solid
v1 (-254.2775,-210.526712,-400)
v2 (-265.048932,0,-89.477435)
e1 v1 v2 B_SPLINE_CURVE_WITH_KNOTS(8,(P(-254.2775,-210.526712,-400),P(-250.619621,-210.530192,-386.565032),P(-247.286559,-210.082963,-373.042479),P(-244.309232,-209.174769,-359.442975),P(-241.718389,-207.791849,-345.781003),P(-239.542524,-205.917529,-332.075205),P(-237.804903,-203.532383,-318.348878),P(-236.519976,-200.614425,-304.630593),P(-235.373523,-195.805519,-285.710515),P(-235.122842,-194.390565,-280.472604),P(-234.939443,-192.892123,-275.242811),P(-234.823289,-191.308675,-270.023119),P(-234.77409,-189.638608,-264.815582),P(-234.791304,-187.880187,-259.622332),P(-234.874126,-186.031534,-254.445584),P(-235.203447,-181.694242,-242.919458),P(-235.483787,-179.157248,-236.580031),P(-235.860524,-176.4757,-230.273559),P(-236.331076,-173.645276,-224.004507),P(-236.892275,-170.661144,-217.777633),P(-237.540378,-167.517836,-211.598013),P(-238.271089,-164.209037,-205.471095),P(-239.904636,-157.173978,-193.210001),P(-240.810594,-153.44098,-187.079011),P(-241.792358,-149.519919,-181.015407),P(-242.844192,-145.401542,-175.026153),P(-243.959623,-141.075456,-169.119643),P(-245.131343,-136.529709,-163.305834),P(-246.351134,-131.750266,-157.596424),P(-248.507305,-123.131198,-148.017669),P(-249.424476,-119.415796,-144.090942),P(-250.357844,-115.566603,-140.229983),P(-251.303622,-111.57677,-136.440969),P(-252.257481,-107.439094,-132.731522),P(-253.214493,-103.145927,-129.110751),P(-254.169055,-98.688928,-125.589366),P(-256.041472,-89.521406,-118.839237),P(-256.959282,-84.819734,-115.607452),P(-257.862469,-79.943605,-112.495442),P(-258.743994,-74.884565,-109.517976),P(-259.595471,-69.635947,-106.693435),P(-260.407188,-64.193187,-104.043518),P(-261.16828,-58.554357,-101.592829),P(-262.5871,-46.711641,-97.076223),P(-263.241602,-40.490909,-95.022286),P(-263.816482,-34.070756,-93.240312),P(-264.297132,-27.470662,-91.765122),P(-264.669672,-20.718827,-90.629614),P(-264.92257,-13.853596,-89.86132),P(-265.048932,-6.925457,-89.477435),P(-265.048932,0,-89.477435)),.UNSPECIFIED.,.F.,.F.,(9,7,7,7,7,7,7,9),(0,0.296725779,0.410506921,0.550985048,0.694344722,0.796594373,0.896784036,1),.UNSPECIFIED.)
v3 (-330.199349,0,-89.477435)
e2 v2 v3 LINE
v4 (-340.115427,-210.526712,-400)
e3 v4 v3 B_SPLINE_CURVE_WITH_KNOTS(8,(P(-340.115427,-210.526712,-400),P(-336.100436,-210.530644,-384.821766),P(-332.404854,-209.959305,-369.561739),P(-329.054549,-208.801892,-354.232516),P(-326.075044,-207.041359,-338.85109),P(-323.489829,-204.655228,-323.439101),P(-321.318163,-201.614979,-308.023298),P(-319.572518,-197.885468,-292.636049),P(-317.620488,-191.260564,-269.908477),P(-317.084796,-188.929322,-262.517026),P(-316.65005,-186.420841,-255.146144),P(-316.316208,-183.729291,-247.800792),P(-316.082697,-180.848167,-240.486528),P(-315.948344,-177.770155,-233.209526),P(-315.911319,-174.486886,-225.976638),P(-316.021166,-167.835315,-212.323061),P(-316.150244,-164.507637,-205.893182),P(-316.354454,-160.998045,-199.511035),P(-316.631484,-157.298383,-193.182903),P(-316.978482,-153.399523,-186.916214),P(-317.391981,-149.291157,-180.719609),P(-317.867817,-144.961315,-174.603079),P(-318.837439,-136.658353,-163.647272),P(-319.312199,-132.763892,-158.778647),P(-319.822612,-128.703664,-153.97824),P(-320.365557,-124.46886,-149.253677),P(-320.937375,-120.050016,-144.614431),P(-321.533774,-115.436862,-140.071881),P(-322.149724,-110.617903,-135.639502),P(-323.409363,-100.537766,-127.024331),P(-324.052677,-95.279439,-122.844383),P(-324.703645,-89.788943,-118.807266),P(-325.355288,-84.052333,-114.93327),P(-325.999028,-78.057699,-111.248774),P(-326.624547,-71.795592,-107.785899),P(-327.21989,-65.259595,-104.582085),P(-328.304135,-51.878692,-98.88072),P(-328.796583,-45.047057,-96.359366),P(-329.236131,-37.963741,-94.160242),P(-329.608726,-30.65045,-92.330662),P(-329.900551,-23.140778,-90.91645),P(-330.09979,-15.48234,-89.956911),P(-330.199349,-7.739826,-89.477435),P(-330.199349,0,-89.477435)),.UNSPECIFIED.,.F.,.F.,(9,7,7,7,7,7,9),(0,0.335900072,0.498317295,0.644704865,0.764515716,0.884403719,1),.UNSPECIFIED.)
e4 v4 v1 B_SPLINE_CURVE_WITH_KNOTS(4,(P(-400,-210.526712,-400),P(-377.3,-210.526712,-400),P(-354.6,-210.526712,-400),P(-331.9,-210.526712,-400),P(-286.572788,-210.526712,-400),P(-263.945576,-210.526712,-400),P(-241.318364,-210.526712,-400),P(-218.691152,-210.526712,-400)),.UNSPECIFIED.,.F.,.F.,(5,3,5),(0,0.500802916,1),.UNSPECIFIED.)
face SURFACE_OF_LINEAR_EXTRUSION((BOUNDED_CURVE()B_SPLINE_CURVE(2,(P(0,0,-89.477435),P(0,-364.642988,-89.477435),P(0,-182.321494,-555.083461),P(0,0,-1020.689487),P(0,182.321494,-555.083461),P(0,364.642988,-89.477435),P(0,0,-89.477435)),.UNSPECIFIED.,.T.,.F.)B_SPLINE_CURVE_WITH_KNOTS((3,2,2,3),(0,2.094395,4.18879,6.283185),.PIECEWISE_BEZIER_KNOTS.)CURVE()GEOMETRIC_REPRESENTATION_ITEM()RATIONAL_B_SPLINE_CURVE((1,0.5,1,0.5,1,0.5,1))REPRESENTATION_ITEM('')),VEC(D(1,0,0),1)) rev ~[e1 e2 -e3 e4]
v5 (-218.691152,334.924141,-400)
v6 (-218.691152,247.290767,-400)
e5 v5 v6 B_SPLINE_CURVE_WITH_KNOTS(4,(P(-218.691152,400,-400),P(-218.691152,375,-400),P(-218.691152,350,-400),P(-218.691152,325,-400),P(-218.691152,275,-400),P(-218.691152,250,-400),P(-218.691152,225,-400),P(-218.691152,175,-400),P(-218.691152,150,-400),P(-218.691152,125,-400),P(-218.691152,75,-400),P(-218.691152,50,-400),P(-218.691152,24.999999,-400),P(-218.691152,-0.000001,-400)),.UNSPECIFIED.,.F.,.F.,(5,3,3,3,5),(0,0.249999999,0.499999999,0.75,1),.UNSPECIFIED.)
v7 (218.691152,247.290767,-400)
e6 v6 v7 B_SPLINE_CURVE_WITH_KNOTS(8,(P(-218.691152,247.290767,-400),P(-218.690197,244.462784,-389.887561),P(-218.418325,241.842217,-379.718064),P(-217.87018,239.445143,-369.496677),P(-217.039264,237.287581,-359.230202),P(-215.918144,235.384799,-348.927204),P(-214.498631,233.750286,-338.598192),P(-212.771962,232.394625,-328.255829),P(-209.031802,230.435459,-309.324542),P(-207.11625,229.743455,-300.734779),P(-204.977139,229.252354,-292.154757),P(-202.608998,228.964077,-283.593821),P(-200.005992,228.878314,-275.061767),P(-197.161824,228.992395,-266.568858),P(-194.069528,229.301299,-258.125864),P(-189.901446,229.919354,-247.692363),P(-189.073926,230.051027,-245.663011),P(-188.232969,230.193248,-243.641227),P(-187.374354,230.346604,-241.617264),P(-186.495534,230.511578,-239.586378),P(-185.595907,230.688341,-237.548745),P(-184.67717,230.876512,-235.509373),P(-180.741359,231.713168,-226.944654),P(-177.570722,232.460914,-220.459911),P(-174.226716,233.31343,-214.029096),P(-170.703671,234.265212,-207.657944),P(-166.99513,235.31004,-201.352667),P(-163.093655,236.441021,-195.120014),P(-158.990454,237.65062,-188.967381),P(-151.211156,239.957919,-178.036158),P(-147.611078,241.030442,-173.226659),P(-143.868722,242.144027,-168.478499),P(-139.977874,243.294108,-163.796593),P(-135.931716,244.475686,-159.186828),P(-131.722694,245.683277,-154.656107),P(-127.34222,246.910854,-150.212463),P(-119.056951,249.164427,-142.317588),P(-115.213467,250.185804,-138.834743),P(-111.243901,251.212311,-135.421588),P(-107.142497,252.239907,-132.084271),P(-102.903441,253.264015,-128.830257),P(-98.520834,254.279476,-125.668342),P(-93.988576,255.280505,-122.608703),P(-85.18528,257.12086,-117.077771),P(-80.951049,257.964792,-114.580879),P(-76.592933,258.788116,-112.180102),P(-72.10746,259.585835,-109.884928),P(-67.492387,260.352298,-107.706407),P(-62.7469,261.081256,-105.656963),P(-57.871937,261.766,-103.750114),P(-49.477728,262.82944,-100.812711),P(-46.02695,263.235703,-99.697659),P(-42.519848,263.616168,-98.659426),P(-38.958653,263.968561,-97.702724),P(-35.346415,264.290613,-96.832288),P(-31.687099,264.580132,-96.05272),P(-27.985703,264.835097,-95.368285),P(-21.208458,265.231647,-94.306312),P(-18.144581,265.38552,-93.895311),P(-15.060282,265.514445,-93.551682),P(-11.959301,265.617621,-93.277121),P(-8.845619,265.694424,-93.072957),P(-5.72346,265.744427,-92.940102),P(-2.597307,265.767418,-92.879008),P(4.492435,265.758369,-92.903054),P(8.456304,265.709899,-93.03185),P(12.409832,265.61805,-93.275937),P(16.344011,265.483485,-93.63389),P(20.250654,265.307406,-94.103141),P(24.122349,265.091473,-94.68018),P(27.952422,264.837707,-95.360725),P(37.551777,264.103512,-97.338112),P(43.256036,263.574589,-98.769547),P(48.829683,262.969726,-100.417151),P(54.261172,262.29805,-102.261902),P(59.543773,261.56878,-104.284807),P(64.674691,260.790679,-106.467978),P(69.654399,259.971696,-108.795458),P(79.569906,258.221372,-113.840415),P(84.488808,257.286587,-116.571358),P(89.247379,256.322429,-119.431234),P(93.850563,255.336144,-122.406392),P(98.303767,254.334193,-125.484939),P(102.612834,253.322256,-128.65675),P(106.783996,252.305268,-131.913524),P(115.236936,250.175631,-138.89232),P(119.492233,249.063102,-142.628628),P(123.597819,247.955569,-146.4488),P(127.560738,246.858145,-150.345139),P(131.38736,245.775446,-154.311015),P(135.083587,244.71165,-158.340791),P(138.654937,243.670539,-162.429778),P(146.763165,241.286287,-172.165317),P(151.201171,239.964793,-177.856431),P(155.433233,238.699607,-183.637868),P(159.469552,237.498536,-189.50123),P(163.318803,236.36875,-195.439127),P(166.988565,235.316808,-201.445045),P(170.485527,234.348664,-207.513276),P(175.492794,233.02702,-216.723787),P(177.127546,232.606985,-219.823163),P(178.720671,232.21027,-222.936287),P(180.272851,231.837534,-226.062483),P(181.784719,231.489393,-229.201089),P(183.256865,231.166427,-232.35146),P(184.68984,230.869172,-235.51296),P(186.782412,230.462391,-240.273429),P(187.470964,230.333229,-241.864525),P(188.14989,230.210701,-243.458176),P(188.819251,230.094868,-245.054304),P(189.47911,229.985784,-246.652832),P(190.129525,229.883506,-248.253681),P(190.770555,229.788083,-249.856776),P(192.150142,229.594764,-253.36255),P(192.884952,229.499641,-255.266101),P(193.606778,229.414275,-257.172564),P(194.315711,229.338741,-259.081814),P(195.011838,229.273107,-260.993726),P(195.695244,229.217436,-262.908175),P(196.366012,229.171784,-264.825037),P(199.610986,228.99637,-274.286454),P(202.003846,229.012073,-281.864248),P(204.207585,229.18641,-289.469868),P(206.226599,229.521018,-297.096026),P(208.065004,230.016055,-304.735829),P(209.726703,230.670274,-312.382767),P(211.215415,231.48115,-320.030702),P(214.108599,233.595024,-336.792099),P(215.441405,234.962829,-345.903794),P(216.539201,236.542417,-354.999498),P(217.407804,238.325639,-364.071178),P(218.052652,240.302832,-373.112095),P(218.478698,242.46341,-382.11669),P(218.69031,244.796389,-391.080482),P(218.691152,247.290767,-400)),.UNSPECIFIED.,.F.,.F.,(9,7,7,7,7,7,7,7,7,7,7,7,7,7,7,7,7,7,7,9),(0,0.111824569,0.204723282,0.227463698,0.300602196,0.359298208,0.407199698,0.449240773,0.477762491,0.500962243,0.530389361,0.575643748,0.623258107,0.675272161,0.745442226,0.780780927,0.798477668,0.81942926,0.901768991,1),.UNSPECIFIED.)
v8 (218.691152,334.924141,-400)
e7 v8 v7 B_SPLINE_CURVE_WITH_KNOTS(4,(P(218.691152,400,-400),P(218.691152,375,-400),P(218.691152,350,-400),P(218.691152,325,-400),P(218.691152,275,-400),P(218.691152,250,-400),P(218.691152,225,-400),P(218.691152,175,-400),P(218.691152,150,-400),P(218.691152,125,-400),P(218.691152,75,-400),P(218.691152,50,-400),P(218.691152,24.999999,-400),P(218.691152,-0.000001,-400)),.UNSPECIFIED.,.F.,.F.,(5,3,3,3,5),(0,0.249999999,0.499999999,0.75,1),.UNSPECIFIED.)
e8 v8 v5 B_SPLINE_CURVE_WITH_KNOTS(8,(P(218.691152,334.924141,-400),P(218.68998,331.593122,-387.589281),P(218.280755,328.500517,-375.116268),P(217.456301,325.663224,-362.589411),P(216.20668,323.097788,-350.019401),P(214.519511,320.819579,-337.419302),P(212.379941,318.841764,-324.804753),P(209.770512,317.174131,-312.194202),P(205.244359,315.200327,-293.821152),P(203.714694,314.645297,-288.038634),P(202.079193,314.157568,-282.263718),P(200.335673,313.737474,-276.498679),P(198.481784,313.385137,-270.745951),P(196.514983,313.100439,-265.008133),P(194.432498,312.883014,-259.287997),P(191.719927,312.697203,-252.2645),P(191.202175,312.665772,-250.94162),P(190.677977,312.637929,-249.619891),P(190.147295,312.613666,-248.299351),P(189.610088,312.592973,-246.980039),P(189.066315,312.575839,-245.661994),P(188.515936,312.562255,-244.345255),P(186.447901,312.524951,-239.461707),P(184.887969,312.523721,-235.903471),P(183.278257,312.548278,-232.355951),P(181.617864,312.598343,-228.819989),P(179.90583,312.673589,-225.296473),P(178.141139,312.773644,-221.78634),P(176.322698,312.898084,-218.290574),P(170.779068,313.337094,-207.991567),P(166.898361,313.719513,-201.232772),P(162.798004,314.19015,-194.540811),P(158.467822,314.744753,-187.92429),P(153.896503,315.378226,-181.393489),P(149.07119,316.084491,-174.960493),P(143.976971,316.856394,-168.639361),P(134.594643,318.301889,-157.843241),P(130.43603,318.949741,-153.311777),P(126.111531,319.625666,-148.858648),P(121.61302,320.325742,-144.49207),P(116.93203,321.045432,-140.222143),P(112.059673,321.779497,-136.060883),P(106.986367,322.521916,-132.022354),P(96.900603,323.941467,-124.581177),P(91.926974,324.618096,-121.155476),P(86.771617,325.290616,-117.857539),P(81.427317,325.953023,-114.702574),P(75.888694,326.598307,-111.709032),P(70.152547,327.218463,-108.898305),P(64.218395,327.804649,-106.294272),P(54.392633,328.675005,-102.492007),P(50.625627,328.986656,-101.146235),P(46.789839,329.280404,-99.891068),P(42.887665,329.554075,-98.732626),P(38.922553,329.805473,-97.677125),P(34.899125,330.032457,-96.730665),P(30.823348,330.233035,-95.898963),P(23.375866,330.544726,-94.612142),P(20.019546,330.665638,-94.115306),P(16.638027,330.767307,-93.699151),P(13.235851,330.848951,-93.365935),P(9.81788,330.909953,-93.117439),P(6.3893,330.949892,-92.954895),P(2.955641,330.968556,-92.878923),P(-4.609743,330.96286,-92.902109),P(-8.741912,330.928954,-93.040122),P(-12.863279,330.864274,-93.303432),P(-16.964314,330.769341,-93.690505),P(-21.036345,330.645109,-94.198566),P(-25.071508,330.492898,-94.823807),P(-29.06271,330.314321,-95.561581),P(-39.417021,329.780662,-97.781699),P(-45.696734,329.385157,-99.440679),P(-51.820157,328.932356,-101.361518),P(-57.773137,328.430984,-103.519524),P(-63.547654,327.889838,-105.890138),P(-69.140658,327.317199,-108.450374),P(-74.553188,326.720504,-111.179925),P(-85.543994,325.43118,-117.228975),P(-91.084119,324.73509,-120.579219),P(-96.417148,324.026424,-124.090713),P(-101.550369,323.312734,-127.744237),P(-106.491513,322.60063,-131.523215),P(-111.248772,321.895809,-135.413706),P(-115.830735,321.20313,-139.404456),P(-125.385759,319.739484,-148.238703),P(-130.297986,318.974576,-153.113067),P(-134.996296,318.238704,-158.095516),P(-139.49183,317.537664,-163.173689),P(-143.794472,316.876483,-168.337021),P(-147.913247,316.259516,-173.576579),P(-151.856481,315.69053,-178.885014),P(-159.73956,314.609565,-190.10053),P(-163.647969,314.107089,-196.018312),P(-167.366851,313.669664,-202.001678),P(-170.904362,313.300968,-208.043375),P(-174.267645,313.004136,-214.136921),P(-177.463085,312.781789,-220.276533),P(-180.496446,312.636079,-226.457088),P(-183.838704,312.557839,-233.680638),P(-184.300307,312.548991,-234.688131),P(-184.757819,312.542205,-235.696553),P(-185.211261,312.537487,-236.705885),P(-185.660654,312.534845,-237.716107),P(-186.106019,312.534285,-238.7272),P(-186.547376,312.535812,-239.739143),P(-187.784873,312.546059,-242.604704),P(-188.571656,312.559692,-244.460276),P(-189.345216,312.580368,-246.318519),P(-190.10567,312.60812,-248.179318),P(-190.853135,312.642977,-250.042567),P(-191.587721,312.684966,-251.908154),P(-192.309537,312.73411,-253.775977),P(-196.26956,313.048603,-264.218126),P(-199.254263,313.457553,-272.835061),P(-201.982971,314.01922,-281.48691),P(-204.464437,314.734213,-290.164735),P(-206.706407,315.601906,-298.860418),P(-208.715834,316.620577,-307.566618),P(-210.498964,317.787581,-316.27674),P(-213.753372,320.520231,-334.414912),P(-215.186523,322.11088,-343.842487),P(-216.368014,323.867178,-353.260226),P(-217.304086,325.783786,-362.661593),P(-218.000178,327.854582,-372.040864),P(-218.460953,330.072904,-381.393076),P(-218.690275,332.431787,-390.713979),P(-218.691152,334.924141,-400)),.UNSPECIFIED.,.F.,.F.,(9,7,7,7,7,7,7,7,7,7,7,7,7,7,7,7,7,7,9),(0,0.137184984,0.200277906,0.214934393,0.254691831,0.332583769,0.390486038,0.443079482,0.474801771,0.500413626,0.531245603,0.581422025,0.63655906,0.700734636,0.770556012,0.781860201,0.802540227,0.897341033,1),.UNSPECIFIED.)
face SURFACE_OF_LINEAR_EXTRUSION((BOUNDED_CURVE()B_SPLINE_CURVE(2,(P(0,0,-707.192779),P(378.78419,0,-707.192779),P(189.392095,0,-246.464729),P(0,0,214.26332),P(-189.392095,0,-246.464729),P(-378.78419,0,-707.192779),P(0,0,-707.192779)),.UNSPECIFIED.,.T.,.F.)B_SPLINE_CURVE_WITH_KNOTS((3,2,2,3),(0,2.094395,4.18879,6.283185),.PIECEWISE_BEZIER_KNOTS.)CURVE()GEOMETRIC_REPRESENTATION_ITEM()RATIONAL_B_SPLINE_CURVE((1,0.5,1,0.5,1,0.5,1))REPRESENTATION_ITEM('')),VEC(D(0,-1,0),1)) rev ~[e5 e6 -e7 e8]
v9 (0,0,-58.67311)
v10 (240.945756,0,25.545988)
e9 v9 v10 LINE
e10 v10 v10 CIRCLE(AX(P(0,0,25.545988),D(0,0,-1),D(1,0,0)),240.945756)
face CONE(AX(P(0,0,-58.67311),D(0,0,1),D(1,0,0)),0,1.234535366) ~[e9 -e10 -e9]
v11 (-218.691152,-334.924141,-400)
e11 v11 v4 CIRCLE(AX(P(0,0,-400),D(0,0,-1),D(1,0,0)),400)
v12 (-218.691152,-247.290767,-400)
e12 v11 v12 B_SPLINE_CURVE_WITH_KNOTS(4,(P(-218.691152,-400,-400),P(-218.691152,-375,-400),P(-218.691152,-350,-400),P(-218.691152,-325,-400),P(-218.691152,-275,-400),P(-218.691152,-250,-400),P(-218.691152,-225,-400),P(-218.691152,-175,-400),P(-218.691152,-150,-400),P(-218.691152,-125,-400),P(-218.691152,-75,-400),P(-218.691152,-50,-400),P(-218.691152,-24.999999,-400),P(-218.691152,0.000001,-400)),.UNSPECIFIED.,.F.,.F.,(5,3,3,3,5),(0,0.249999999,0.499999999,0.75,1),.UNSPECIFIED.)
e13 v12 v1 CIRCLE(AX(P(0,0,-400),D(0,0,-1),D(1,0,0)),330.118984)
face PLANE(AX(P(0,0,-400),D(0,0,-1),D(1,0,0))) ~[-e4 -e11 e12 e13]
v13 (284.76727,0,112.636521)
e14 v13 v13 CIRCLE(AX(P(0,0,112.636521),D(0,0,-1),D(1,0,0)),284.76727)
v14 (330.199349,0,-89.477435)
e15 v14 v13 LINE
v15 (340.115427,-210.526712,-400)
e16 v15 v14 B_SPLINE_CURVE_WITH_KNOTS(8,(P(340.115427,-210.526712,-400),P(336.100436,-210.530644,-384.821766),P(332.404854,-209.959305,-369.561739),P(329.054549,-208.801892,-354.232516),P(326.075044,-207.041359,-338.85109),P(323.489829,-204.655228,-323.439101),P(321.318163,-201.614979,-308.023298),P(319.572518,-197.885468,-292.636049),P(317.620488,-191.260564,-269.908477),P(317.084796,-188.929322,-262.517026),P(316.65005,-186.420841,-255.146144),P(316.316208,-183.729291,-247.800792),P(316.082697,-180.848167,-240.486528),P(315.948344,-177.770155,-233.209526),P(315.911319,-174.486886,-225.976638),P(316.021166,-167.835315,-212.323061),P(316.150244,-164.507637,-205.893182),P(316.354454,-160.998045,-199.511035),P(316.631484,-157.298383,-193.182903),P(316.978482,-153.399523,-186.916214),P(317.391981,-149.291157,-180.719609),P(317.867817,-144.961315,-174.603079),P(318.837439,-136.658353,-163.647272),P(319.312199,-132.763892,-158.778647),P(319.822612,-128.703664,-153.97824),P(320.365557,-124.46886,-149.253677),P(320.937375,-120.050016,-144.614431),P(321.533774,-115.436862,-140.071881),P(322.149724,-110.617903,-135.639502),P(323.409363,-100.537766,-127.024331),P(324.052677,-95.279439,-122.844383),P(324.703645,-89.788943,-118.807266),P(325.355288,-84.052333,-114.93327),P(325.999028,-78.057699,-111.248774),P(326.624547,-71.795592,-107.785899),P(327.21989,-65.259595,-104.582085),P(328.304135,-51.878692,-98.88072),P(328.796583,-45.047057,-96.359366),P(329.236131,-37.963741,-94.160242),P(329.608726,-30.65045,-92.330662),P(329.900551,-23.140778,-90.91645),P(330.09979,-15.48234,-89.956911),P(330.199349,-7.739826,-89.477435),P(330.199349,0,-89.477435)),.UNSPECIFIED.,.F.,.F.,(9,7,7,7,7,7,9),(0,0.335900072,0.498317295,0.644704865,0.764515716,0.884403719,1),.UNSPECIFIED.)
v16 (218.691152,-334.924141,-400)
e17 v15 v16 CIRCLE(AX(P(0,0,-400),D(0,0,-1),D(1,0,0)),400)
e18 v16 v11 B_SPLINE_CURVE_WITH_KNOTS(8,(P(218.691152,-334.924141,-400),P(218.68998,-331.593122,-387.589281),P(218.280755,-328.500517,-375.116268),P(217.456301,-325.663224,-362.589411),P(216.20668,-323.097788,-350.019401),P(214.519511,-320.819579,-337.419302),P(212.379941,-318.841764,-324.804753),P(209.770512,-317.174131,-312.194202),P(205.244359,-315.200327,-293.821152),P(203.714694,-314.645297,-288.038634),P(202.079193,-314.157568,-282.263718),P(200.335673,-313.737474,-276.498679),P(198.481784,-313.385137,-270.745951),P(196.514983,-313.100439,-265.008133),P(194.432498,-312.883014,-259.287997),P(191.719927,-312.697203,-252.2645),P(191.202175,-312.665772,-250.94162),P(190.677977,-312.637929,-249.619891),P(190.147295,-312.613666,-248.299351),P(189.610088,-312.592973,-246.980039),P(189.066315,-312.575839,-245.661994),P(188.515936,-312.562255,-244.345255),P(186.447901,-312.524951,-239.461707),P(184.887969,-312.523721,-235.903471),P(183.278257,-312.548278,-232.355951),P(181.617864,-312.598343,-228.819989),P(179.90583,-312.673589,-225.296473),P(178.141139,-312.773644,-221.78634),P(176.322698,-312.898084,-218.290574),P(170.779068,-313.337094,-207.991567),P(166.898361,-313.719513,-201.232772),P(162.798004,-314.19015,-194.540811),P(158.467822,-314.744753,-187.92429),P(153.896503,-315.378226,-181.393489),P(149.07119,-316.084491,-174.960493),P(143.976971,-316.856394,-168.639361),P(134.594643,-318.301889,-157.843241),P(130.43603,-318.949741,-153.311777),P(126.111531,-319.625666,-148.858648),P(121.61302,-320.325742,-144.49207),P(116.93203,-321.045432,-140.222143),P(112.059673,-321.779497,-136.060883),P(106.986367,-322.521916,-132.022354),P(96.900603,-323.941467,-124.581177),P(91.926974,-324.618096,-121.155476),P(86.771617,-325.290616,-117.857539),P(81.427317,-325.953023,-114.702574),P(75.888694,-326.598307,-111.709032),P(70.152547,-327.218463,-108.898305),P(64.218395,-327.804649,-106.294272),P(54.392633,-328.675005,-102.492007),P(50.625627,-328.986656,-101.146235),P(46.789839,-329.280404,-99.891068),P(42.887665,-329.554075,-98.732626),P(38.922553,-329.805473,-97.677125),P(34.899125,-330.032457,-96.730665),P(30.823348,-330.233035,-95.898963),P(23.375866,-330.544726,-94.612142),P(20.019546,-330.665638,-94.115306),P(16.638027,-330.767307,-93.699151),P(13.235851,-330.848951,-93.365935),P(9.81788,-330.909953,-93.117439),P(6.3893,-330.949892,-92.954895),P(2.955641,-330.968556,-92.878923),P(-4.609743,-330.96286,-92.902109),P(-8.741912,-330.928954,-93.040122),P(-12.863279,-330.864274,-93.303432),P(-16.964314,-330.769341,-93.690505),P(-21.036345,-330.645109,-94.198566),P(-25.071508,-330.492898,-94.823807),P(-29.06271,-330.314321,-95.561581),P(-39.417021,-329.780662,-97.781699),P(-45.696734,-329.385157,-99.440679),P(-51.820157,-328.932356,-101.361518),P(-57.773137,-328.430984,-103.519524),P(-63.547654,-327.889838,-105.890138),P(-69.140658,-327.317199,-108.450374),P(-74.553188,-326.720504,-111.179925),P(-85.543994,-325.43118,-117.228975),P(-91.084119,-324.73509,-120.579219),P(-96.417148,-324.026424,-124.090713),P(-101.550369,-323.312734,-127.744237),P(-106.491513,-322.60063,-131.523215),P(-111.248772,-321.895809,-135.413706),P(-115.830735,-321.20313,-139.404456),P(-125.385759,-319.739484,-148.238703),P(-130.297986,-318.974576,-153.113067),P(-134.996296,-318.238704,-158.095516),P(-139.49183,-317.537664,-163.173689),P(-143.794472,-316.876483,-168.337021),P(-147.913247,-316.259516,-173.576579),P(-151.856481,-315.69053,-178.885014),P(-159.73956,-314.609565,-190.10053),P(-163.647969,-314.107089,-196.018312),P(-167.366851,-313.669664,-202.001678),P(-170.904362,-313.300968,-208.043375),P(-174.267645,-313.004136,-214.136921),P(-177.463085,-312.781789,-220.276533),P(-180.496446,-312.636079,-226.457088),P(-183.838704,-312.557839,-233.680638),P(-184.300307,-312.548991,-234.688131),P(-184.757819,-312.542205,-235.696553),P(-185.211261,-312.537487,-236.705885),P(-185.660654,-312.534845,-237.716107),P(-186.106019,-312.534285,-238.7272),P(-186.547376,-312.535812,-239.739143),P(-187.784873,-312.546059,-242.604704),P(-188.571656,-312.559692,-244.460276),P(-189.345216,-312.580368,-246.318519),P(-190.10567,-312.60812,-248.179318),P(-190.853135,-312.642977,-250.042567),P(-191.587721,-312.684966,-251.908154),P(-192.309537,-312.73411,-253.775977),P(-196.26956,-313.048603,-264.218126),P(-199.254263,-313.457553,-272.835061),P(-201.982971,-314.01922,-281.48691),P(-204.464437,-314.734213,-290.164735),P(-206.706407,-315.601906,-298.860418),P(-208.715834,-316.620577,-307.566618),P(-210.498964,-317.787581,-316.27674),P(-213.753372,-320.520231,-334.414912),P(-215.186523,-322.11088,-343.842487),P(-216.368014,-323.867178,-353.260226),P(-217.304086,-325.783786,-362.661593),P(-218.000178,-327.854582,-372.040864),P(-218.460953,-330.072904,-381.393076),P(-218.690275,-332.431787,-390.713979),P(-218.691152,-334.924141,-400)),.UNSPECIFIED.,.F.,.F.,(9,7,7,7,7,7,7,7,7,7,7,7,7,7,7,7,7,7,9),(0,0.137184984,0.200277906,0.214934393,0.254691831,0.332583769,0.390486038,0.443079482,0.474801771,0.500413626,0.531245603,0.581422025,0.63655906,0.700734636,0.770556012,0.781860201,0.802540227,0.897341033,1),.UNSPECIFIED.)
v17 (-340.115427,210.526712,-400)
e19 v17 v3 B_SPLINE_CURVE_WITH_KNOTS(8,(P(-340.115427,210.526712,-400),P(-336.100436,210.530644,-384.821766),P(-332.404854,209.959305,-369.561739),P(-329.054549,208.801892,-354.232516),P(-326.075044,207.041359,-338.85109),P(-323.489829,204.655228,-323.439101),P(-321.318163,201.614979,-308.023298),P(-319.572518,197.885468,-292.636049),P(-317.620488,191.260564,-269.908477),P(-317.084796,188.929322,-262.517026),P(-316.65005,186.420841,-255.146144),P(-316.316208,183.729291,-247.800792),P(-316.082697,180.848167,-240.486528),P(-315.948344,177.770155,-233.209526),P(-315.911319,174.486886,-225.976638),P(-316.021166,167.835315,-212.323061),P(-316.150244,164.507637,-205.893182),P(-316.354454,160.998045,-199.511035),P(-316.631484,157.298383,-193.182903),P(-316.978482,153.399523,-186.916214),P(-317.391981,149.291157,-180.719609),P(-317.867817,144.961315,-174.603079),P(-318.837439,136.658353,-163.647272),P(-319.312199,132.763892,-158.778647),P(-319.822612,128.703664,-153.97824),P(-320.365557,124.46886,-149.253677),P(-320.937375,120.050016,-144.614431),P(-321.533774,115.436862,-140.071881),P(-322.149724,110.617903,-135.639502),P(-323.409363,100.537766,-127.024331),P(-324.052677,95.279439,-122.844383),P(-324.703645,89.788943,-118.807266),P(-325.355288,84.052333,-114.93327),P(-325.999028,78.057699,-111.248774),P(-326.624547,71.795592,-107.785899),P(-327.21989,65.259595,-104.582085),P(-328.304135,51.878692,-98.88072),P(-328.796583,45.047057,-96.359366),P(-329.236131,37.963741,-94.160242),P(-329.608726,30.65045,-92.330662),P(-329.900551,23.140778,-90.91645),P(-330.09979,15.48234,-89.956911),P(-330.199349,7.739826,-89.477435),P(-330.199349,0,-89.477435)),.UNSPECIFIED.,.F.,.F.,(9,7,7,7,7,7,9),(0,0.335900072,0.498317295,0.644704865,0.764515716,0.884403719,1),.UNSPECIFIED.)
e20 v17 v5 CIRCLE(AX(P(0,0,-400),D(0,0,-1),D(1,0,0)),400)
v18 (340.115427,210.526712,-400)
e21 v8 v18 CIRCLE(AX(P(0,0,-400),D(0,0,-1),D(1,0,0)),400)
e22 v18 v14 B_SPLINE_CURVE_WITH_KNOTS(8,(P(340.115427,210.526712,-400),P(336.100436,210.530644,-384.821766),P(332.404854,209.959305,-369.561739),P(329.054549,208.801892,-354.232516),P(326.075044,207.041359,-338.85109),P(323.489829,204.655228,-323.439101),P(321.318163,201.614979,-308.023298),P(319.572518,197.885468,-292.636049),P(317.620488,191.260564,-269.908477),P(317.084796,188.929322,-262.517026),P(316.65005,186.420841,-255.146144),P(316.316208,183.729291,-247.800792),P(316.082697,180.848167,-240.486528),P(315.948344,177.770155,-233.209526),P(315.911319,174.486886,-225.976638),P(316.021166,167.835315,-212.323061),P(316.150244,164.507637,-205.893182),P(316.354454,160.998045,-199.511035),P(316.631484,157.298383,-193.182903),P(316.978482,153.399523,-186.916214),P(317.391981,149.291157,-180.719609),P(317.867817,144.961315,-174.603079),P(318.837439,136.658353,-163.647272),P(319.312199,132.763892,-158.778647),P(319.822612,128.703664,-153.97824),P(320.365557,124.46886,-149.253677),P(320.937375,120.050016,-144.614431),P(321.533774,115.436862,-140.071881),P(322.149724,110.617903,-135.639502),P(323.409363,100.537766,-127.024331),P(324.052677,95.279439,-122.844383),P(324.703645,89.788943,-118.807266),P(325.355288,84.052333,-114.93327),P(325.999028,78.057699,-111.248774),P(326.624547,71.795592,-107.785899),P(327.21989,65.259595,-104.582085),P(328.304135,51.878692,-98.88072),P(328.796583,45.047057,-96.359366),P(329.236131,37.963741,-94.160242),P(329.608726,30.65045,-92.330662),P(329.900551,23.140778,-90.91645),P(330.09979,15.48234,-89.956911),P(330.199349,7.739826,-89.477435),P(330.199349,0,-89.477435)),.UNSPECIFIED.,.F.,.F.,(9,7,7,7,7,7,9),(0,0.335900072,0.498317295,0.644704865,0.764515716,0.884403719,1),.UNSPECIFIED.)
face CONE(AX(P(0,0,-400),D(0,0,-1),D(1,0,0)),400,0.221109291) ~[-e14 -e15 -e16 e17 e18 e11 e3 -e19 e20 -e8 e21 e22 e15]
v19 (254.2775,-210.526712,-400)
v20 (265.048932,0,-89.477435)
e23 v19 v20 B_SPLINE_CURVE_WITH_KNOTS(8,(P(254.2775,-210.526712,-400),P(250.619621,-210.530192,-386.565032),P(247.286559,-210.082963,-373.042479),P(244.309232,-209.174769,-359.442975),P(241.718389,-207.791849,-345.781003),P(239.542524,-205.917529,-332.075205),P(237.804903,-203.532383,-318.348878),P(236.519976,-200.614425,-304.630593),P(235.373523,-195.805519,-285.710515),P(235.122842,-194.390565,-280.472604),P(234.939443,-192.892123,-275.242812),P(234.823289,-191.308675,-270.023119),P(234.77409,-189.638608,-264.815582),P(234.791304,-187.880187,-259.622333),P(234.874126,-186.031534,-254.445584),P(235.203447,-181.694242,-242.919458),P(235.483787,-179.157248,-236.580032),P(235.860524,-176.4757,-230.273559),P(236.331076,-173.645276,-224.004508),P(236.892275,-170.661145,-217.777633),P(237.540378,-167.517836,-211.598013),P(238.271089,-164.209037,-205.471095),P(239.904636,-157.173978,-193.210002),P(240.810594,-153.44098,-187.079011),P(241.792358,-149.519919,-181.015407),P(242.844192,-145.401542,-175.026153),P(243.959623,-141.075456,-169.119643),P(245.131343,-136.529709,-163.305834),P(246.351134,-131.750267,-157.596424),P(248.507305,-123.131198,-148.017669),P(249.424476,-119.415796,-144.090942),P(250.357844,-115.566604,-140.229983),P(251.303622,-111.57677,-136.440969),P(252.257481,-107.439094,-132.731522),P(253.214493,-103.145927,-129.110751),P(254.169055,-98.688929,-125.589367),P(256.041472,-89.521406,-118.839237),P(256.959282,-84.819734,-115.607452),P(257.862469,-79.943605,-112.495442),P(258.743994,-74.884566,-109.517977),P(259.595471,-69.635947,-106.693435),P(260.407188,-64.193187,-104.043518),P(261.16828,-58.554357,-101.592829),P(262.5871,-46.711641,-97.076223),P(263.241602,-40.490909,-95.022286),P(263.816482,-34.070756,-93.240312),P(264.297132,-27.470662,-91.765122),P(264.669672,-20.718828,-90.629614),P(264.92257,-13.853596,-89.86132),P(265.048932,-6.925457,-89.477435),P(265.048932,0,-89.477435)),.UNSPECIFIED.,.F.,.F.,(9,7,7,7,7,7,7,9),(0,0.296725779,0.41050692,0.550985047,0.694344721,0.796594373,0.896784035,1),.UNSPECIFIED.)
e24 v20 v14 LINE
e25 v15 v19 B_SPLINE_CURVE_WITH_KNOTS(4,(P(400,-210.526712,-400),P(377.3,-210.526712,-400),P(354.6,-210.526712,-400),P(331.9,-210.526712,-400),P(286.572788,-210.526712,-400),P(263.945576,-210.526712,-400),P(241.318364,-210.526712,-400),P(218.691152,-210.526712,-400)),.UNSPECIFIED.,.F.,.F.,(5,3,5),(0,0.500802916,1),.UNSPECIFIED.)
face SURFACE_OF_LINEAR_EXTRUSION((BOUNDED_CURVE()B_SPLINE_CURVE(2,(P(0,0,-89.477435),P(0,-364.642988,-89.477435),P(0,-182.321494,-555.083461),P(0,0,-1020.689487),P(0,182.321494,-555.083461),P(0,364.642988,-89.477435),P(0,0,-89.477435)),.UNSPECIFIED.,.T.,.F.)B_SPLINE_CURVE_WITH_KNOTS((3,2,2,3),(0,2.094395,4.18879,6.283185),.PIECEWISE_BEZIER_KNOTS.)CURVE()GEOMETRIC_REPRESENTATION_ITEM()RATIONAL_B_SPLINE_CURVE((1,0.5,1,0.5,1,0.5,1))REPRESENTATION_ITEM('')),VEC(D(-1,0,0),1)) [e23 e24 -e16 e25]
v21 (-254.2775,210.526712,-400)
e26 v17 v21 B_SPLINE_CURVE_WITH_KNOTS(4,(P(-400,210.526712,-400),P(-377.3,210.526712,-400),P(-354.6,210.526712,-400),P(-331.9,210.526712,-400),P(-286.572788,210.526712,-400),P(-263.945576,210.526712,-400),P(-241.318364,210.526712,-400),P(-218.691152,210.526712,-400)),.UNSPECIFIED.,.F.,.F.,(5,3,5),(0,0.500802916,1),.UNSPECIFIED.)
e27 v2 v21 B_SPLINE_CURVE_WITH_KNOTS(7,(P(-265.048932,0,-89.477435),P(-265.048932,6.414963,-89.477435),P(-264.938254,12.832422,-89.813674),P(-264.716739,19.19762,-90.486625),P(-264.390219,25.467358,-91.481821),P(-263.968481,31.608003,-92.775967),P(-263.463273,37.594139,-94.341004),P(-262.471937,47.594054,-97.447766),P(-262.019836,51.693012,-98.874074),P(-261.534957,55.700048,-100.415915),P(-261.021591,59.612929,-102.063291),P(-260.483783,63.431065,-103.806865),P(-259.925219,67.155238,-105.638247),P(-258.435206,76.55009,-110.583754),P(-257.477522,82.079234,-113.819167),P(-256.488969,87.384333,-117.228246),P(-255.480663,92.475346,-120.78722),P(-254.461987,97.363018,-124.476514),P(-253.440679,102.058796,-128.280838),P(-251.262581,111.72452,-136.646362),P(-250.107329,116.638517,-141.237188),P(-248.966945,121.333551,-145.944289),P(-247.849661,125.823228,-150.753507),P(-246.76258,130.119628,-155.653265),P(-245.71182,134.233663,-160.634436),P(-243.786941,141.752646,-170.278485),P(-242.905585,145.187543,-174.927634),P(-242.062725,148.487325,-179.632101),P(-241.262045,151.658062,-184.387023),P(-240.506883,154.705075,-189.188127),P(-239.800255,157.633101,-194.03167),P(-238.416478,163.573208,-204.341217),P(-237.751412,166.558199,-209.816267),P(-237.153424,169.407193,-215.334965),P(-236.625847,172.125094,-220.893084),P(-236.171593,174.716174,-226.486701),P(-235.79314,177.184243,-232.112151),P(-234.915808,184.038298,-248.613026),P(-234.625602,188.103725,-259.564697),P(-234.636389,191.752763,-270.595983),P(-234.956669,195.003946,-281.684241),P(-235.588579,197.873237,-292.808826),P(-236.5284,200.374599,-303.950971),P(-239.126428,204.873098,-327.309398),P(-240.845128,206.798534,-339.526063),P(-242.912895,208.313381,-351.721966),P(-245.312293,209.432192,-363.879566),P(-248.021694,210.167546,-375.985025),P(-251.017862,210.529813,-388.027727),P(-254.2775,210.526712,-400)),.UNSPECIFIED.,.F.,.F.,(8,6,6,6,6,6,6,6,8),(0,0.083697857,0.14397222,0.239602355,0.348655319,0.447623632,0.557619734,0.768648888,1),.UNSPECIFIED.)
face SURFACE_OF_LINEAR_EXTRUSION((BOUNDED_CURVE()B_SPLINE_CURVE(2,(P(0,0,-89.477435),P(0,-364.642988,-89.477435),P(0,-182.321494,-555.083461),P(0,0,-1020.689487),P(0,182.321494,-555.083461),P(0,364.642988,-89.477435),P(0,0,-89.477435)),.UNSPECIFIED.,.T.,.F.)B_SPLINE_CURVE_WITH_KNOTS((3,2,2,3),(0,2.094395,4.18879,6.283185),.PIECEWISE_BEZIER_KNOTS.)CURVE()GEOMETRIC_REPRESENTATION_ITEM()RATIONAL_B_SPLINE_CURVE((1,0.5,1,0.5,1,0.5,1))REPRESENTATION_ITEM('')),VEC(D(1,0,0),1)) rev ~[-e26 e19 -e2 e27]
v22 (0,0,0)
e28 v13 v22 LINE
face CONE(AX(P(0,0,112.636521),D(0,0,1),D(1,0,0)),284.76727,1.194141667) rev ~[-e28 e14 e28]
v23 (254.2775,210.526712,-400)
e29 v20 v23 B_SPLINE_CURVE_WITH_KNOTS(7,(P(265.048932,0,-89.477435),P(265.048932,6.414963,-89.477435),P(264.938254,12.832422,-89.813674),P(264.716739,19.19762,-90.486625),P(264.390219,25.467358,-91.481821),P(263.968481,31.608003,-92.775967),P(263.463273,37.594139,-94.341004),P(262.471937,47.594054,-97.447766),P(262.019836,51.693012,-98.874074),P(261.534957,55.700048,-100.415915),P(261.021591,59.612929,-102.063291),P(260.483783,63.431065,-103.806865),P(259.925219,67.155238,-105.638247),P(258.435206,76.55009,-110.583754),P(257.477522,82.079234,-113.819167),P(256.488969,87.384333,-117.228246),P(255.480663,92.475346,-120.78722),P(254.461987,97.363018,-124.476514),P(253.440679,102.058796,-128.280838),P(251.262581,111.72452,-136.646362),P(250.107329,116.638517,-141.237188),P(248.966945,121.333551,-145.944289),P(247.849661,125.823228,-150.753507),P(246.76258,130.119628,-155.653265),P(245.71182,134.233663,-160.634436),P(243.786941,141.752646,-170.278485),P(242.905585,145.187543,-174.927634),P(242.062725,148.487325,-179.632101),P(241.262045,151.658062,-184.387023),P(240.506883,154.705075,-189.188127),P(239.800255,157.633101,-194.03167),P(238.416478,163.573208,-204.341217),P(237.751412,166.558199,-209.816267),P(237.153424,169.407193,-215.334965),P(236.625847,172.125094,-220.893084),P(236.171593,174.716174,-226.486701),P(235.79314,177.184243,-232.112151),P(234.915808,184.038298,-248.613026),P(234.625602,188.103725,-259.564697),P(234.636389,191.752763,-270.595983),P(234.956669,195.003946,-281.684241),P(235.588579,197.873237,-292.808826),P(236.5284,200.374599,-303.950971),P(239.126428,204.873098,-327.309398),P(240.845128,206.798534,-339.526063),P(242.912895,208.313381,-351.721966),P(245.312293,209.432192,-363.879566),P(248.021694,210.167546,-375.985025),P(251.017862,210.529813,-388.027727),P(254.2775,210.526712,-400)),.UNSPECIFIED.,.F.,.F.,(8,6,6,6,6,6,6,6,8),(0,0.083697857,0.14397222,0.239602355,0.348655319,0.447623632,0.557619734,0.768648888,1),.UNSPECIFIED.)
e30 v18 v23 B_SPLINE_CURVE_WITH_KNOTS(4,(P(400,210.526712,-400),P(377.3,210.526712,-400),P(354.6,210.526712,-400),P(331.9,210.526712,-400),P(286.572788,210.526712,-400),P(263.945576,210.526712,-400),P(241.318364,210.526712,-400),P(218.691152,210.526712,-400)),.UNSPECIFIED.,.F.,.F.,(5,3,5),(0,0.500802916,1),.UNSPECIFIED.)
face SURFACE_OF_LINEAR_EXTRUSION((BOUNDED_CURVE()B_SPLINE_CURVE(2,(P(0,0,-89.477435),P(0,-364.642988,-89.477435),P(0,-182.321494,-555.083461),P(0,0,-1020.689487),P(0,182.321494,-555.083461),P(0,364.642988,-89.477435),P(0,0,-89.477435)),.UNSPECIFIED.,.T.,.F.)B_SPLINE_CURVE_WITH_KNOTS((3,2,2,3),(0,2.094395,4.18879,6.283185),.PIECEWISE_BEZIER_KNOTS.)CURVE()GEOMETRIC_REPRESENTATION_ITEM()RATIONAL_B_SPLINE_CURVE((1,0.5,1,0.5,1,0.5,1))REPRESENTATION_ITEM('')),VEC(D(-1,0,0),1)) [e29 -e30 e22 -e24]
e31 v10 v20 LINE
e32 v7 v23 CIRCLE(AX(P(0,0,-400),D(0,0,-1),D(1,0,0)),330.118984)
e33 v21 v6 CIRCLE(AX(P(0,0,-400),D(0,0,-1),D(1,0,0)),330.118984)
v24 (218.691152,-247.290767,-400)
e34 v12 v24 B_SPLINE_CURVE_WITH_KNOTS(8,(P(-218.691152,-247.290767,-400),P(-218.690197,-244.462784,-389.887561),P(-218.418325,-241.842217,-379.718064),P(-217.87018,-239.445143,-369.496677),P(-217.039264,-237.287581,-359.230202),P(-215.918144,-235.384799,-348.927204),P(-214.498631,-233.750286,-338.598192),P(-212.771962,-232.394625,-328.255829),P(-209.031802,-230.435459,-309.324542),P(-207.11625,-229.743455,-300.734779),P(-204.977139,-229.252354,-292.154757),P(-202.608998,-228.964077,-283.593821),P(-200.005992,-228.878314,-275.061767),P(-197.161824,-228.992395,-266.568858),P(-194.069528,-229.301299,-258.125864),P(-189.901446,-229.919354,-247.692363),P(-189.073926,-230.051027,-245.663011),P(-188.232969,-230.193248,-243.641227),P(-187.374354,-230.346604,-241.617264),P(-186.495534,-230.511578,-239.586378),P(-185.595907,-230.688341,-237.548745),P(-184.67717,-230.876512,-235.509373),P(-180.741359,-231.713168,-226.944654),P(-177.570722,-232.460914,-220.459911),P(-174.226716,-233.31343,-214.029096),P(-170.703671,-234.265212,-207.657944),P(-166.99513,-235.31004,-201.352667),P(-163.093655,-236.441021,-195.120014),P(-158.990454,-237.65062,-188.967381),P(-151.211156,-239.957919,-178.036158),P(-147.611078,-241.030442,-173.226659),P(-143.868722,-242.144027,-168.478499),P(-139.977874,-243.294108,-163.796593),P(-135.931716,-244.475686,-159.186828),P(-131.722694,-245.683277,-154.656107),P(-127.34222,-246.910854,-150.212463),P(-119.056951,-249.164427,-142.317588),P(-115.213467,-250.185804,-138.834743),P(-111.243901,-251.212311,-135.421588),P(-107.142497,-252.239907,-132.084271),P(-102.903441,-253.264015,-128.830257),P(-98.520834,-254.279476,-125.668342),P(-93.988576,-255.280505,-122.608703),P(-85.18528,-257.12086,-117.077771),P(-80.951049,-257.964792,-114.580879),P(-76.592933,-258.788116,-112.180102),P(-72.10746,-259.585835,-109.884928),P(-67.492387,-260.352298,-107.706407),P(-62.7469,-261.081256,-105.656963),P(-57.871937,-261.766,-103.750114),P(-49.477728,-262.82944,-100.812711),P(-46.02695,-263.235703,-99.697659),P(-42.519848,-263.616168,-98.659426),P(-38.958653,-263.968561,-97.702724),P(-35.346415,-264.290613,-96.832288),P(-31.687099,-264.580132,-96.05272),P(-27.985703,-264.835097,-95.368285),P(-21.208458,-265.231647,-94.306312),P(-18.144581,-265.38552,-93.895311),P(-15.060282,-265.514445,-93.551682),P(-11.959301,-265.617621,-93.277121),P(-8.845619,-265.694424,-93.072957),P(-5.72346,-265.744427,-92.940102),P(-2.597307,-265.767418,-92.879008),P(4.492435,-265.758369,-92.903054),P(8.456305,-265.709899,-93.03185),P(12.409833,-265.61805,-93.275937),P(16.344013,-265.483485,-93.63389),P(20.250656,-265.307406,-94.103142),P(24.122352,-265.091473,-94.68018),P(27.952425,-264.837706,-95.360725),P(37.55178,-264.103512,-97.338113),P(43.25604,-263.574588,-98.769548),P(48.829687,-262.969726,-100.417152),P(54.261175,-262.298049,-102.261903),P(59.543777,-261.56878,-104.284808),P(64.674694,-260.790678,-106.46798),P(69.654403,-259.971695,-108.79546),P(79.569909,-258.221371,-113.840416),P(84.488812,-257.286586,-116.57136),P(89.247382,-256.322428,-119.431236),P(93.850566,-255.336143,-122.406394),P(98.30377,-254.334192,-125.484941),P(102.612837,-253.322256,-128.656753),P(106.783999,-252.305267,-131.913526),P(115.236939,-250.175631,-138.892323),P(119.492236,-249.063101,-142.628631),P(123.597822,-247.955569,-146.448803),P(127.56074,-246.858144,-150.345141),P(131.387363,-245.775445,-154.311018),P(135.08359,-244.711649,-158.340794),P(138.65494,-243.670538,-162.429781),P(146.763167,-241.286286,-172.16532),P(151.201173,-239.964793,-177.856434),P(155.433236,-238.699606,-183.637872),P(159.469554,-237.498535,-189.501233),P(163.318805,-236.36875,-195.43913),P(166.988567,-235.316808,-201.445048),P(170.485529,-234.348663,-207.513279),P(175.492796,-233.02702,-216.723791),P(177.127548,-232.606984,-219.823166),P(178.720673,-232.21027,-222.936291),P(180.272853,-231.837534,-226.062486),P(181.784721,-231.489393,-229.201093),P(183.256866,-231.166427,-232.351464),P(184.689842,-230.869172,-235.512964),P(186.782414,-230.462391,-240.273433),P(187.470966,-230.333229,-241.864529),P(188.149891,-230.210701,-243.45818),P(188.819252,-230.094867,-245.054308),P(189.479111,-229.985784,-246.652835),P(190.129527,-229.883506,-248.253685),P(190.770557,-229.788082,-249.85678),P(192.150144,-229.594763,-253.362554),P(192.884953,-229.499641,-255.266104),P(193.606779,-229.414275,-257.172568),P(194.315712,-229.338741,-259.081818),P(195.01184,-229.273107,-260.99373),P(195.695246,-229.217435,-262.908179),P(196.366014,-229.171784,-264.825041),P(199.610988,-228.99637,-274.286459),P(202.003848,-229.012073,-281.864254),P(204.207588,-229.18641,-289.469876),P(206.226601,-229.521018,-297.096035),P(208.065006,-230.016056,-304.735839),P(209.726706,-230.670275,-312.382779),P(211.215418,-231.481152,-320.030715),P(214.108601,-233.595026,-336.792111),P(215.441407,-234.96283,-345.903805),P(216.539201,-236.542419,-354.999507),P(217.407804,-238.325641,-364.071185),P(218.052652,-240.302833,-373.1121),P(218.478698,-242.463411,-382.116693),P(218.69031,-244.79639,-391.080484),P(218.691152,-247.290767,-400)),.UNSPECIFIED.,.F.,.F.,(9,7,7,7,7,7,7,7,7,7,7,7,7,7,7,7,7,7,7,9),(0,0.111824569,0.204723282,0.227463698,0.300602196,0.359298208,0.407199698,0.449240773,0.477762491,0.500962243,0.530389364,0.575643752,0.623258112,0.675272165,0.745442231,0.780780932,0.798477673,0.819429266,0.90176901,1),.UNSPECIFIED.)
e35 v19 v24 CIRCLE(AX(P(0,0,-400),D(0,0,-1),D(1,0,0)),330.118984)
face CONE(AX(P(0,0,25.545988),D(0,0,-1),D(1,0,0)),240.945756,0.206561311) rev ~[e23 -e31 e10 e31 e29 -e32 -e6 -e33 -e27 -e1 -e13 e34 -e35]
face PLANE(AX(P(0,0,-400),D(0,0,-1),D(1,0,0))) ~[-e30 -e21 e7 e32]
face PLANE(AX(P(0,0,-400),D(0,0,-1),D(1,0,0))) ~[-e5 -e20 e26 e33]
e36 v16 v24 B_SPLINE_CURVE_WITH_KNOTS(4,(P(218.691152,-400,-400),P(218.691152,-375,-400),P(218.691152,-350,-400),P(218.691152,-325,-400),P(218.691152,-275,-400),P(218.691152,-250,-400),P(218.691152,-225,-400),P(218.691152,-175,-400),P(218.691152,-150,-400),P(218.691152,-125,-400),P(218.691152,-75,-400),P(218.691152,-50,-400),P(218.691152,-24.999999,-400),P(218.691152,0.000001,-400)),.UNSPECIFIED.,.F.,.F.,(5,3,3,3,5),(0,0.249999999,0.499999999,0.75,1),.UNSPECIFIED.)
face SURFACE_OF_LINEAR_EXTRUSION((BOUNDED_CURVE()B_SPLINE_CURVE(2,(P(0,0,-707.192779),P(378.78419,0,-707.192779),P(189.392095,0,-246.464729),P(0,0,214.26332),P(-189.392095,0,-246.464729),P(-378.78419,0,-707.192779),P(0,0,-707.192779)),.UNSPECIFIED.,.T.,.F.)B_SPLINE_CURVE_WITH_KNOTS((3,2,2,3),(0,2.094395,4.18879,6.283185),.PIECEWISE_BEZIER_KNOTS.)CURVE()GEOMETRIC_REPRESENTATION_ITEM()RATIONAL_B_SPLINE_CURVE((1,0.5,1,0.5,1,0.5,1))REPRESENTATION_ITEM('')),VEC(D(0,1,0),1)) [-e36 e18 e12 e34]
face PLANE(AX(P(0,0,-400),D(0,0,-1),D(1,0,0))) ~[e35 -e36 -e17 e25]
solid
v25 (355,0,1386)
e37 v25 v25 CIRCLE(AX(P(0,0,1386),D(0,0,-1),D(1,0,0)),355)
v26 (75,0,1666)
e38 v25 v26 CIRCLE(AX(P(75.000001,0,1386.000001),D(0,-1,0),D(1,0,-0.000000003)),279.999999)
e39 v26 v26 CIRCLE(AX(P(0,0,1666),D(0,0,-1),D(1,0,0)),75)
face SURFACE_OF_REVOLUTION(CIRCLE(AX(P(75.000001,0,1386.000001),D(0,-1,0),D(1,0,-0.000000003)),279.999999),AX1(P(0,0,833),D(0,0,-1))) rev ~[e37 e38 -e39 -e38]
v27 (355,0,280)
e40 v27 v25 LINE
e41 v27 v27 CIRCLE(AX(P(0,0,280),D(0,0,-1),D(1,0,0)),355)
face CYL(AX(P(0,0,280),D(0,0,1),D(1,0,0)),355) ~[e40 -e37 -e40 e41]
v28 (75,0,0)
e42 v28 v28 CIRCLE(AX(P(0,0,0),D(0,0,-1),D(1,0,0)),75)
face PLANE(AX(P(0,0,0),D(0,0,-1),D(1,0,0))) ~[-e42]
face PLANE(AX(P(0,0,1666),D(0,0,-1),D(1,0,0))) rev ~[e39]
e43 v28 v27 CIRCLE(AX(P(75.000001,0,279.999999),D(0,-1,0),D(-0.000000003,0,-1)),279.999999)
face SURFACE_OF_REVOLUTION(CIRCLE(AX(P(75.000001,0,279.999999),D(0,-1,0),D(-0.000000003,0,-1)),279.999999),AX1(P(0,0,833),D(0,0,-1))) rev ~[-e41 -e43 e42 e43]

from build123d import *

# Parameters (mm, degrees)
F5_DEPTH = 400
F7_DEPTH = 400


with BuildPart() as f1:
    # F0 (on Front) → F1 (revolve)
    with BuildSketch(Plane.XZ):
        with BuildLine():
            Line((0, 1666), (0, 0))
            Line((0, 0), (75, 0))
            ThreePointArc((75, 0), (272.989899, 82.010101), (355, 280))
            Line((355, 280), (355, 1386))
            ThreePointArc((355, 1386), (272.989899, 1583.989899), (75, 1666))
            Line((75, 1666), (0, 1666))
        make_face()
    revolve(axis=Axis((0, 0, 833), (0, 0, -1)))


with BuildPart() as f3:
    # F2 (on Front) → F3 (revolve)
    with BuildSketch(Plane.XZ):
        Polygon((284.76727, 112.636521), (0, 0), (0, -58.67311), (240.945756, 25.545988), (330.118984, -400), (400, -400), align=None)
    revolve(axis=Axis((0, 0, -29.336555), (0, 0, -1)))

    # F4 (on Front) → F5 (cut, symmetric)
    with BuildSketch(Plane.XZ):
        with BuildLine():
            add(Edge.make_bspline(
                [(0, -707.192779), (378.78419, -707.192779), (189.392095, -246.464729), (0, 214.26332), (-189.392095, -246.464729), (-378.78419, -707.192779), (0, -707.192779)],
                knots=[0, 0, 0, 2.094395, 2.094395, 4.18879, 4.18879, 6.283185, 6.283185, 6.283185], degree=2, weights=[1, 0.5, 1, 0.5, 1, 0.5, 1]))
        make_face()
    extrude(amount=F5_DEPTH, both=True, mode=Mode.SUBTRACT)

    # F6 (on Right) → F7 (cut, symmetric)
    with BuildSketch(Plane.YZ):
        with BuildLine():
            add(Edge.make_bspline(
                [(0, -89.477435), (-364.642988, -89.477435), (-182.321494, -555.083461), (0, -1020.689487), (182.321494, -555.083461), (364.642988, -89.477435), (0, -89.477435)],
                knots=[0, 0, 0, 2.094395, 2.094395, 4.18879, 4.18879, 6.283185, 6.283185, 6.283185], degree=2, weights=[1, 0.5, 1, 0.5, 1, 0.5, 1]))
        make_face()
    extrude(amount=F7_DEPTH, both=True, mode=Mode.SUBTRACT)


solid = Compound([f1.part, f3.part])
